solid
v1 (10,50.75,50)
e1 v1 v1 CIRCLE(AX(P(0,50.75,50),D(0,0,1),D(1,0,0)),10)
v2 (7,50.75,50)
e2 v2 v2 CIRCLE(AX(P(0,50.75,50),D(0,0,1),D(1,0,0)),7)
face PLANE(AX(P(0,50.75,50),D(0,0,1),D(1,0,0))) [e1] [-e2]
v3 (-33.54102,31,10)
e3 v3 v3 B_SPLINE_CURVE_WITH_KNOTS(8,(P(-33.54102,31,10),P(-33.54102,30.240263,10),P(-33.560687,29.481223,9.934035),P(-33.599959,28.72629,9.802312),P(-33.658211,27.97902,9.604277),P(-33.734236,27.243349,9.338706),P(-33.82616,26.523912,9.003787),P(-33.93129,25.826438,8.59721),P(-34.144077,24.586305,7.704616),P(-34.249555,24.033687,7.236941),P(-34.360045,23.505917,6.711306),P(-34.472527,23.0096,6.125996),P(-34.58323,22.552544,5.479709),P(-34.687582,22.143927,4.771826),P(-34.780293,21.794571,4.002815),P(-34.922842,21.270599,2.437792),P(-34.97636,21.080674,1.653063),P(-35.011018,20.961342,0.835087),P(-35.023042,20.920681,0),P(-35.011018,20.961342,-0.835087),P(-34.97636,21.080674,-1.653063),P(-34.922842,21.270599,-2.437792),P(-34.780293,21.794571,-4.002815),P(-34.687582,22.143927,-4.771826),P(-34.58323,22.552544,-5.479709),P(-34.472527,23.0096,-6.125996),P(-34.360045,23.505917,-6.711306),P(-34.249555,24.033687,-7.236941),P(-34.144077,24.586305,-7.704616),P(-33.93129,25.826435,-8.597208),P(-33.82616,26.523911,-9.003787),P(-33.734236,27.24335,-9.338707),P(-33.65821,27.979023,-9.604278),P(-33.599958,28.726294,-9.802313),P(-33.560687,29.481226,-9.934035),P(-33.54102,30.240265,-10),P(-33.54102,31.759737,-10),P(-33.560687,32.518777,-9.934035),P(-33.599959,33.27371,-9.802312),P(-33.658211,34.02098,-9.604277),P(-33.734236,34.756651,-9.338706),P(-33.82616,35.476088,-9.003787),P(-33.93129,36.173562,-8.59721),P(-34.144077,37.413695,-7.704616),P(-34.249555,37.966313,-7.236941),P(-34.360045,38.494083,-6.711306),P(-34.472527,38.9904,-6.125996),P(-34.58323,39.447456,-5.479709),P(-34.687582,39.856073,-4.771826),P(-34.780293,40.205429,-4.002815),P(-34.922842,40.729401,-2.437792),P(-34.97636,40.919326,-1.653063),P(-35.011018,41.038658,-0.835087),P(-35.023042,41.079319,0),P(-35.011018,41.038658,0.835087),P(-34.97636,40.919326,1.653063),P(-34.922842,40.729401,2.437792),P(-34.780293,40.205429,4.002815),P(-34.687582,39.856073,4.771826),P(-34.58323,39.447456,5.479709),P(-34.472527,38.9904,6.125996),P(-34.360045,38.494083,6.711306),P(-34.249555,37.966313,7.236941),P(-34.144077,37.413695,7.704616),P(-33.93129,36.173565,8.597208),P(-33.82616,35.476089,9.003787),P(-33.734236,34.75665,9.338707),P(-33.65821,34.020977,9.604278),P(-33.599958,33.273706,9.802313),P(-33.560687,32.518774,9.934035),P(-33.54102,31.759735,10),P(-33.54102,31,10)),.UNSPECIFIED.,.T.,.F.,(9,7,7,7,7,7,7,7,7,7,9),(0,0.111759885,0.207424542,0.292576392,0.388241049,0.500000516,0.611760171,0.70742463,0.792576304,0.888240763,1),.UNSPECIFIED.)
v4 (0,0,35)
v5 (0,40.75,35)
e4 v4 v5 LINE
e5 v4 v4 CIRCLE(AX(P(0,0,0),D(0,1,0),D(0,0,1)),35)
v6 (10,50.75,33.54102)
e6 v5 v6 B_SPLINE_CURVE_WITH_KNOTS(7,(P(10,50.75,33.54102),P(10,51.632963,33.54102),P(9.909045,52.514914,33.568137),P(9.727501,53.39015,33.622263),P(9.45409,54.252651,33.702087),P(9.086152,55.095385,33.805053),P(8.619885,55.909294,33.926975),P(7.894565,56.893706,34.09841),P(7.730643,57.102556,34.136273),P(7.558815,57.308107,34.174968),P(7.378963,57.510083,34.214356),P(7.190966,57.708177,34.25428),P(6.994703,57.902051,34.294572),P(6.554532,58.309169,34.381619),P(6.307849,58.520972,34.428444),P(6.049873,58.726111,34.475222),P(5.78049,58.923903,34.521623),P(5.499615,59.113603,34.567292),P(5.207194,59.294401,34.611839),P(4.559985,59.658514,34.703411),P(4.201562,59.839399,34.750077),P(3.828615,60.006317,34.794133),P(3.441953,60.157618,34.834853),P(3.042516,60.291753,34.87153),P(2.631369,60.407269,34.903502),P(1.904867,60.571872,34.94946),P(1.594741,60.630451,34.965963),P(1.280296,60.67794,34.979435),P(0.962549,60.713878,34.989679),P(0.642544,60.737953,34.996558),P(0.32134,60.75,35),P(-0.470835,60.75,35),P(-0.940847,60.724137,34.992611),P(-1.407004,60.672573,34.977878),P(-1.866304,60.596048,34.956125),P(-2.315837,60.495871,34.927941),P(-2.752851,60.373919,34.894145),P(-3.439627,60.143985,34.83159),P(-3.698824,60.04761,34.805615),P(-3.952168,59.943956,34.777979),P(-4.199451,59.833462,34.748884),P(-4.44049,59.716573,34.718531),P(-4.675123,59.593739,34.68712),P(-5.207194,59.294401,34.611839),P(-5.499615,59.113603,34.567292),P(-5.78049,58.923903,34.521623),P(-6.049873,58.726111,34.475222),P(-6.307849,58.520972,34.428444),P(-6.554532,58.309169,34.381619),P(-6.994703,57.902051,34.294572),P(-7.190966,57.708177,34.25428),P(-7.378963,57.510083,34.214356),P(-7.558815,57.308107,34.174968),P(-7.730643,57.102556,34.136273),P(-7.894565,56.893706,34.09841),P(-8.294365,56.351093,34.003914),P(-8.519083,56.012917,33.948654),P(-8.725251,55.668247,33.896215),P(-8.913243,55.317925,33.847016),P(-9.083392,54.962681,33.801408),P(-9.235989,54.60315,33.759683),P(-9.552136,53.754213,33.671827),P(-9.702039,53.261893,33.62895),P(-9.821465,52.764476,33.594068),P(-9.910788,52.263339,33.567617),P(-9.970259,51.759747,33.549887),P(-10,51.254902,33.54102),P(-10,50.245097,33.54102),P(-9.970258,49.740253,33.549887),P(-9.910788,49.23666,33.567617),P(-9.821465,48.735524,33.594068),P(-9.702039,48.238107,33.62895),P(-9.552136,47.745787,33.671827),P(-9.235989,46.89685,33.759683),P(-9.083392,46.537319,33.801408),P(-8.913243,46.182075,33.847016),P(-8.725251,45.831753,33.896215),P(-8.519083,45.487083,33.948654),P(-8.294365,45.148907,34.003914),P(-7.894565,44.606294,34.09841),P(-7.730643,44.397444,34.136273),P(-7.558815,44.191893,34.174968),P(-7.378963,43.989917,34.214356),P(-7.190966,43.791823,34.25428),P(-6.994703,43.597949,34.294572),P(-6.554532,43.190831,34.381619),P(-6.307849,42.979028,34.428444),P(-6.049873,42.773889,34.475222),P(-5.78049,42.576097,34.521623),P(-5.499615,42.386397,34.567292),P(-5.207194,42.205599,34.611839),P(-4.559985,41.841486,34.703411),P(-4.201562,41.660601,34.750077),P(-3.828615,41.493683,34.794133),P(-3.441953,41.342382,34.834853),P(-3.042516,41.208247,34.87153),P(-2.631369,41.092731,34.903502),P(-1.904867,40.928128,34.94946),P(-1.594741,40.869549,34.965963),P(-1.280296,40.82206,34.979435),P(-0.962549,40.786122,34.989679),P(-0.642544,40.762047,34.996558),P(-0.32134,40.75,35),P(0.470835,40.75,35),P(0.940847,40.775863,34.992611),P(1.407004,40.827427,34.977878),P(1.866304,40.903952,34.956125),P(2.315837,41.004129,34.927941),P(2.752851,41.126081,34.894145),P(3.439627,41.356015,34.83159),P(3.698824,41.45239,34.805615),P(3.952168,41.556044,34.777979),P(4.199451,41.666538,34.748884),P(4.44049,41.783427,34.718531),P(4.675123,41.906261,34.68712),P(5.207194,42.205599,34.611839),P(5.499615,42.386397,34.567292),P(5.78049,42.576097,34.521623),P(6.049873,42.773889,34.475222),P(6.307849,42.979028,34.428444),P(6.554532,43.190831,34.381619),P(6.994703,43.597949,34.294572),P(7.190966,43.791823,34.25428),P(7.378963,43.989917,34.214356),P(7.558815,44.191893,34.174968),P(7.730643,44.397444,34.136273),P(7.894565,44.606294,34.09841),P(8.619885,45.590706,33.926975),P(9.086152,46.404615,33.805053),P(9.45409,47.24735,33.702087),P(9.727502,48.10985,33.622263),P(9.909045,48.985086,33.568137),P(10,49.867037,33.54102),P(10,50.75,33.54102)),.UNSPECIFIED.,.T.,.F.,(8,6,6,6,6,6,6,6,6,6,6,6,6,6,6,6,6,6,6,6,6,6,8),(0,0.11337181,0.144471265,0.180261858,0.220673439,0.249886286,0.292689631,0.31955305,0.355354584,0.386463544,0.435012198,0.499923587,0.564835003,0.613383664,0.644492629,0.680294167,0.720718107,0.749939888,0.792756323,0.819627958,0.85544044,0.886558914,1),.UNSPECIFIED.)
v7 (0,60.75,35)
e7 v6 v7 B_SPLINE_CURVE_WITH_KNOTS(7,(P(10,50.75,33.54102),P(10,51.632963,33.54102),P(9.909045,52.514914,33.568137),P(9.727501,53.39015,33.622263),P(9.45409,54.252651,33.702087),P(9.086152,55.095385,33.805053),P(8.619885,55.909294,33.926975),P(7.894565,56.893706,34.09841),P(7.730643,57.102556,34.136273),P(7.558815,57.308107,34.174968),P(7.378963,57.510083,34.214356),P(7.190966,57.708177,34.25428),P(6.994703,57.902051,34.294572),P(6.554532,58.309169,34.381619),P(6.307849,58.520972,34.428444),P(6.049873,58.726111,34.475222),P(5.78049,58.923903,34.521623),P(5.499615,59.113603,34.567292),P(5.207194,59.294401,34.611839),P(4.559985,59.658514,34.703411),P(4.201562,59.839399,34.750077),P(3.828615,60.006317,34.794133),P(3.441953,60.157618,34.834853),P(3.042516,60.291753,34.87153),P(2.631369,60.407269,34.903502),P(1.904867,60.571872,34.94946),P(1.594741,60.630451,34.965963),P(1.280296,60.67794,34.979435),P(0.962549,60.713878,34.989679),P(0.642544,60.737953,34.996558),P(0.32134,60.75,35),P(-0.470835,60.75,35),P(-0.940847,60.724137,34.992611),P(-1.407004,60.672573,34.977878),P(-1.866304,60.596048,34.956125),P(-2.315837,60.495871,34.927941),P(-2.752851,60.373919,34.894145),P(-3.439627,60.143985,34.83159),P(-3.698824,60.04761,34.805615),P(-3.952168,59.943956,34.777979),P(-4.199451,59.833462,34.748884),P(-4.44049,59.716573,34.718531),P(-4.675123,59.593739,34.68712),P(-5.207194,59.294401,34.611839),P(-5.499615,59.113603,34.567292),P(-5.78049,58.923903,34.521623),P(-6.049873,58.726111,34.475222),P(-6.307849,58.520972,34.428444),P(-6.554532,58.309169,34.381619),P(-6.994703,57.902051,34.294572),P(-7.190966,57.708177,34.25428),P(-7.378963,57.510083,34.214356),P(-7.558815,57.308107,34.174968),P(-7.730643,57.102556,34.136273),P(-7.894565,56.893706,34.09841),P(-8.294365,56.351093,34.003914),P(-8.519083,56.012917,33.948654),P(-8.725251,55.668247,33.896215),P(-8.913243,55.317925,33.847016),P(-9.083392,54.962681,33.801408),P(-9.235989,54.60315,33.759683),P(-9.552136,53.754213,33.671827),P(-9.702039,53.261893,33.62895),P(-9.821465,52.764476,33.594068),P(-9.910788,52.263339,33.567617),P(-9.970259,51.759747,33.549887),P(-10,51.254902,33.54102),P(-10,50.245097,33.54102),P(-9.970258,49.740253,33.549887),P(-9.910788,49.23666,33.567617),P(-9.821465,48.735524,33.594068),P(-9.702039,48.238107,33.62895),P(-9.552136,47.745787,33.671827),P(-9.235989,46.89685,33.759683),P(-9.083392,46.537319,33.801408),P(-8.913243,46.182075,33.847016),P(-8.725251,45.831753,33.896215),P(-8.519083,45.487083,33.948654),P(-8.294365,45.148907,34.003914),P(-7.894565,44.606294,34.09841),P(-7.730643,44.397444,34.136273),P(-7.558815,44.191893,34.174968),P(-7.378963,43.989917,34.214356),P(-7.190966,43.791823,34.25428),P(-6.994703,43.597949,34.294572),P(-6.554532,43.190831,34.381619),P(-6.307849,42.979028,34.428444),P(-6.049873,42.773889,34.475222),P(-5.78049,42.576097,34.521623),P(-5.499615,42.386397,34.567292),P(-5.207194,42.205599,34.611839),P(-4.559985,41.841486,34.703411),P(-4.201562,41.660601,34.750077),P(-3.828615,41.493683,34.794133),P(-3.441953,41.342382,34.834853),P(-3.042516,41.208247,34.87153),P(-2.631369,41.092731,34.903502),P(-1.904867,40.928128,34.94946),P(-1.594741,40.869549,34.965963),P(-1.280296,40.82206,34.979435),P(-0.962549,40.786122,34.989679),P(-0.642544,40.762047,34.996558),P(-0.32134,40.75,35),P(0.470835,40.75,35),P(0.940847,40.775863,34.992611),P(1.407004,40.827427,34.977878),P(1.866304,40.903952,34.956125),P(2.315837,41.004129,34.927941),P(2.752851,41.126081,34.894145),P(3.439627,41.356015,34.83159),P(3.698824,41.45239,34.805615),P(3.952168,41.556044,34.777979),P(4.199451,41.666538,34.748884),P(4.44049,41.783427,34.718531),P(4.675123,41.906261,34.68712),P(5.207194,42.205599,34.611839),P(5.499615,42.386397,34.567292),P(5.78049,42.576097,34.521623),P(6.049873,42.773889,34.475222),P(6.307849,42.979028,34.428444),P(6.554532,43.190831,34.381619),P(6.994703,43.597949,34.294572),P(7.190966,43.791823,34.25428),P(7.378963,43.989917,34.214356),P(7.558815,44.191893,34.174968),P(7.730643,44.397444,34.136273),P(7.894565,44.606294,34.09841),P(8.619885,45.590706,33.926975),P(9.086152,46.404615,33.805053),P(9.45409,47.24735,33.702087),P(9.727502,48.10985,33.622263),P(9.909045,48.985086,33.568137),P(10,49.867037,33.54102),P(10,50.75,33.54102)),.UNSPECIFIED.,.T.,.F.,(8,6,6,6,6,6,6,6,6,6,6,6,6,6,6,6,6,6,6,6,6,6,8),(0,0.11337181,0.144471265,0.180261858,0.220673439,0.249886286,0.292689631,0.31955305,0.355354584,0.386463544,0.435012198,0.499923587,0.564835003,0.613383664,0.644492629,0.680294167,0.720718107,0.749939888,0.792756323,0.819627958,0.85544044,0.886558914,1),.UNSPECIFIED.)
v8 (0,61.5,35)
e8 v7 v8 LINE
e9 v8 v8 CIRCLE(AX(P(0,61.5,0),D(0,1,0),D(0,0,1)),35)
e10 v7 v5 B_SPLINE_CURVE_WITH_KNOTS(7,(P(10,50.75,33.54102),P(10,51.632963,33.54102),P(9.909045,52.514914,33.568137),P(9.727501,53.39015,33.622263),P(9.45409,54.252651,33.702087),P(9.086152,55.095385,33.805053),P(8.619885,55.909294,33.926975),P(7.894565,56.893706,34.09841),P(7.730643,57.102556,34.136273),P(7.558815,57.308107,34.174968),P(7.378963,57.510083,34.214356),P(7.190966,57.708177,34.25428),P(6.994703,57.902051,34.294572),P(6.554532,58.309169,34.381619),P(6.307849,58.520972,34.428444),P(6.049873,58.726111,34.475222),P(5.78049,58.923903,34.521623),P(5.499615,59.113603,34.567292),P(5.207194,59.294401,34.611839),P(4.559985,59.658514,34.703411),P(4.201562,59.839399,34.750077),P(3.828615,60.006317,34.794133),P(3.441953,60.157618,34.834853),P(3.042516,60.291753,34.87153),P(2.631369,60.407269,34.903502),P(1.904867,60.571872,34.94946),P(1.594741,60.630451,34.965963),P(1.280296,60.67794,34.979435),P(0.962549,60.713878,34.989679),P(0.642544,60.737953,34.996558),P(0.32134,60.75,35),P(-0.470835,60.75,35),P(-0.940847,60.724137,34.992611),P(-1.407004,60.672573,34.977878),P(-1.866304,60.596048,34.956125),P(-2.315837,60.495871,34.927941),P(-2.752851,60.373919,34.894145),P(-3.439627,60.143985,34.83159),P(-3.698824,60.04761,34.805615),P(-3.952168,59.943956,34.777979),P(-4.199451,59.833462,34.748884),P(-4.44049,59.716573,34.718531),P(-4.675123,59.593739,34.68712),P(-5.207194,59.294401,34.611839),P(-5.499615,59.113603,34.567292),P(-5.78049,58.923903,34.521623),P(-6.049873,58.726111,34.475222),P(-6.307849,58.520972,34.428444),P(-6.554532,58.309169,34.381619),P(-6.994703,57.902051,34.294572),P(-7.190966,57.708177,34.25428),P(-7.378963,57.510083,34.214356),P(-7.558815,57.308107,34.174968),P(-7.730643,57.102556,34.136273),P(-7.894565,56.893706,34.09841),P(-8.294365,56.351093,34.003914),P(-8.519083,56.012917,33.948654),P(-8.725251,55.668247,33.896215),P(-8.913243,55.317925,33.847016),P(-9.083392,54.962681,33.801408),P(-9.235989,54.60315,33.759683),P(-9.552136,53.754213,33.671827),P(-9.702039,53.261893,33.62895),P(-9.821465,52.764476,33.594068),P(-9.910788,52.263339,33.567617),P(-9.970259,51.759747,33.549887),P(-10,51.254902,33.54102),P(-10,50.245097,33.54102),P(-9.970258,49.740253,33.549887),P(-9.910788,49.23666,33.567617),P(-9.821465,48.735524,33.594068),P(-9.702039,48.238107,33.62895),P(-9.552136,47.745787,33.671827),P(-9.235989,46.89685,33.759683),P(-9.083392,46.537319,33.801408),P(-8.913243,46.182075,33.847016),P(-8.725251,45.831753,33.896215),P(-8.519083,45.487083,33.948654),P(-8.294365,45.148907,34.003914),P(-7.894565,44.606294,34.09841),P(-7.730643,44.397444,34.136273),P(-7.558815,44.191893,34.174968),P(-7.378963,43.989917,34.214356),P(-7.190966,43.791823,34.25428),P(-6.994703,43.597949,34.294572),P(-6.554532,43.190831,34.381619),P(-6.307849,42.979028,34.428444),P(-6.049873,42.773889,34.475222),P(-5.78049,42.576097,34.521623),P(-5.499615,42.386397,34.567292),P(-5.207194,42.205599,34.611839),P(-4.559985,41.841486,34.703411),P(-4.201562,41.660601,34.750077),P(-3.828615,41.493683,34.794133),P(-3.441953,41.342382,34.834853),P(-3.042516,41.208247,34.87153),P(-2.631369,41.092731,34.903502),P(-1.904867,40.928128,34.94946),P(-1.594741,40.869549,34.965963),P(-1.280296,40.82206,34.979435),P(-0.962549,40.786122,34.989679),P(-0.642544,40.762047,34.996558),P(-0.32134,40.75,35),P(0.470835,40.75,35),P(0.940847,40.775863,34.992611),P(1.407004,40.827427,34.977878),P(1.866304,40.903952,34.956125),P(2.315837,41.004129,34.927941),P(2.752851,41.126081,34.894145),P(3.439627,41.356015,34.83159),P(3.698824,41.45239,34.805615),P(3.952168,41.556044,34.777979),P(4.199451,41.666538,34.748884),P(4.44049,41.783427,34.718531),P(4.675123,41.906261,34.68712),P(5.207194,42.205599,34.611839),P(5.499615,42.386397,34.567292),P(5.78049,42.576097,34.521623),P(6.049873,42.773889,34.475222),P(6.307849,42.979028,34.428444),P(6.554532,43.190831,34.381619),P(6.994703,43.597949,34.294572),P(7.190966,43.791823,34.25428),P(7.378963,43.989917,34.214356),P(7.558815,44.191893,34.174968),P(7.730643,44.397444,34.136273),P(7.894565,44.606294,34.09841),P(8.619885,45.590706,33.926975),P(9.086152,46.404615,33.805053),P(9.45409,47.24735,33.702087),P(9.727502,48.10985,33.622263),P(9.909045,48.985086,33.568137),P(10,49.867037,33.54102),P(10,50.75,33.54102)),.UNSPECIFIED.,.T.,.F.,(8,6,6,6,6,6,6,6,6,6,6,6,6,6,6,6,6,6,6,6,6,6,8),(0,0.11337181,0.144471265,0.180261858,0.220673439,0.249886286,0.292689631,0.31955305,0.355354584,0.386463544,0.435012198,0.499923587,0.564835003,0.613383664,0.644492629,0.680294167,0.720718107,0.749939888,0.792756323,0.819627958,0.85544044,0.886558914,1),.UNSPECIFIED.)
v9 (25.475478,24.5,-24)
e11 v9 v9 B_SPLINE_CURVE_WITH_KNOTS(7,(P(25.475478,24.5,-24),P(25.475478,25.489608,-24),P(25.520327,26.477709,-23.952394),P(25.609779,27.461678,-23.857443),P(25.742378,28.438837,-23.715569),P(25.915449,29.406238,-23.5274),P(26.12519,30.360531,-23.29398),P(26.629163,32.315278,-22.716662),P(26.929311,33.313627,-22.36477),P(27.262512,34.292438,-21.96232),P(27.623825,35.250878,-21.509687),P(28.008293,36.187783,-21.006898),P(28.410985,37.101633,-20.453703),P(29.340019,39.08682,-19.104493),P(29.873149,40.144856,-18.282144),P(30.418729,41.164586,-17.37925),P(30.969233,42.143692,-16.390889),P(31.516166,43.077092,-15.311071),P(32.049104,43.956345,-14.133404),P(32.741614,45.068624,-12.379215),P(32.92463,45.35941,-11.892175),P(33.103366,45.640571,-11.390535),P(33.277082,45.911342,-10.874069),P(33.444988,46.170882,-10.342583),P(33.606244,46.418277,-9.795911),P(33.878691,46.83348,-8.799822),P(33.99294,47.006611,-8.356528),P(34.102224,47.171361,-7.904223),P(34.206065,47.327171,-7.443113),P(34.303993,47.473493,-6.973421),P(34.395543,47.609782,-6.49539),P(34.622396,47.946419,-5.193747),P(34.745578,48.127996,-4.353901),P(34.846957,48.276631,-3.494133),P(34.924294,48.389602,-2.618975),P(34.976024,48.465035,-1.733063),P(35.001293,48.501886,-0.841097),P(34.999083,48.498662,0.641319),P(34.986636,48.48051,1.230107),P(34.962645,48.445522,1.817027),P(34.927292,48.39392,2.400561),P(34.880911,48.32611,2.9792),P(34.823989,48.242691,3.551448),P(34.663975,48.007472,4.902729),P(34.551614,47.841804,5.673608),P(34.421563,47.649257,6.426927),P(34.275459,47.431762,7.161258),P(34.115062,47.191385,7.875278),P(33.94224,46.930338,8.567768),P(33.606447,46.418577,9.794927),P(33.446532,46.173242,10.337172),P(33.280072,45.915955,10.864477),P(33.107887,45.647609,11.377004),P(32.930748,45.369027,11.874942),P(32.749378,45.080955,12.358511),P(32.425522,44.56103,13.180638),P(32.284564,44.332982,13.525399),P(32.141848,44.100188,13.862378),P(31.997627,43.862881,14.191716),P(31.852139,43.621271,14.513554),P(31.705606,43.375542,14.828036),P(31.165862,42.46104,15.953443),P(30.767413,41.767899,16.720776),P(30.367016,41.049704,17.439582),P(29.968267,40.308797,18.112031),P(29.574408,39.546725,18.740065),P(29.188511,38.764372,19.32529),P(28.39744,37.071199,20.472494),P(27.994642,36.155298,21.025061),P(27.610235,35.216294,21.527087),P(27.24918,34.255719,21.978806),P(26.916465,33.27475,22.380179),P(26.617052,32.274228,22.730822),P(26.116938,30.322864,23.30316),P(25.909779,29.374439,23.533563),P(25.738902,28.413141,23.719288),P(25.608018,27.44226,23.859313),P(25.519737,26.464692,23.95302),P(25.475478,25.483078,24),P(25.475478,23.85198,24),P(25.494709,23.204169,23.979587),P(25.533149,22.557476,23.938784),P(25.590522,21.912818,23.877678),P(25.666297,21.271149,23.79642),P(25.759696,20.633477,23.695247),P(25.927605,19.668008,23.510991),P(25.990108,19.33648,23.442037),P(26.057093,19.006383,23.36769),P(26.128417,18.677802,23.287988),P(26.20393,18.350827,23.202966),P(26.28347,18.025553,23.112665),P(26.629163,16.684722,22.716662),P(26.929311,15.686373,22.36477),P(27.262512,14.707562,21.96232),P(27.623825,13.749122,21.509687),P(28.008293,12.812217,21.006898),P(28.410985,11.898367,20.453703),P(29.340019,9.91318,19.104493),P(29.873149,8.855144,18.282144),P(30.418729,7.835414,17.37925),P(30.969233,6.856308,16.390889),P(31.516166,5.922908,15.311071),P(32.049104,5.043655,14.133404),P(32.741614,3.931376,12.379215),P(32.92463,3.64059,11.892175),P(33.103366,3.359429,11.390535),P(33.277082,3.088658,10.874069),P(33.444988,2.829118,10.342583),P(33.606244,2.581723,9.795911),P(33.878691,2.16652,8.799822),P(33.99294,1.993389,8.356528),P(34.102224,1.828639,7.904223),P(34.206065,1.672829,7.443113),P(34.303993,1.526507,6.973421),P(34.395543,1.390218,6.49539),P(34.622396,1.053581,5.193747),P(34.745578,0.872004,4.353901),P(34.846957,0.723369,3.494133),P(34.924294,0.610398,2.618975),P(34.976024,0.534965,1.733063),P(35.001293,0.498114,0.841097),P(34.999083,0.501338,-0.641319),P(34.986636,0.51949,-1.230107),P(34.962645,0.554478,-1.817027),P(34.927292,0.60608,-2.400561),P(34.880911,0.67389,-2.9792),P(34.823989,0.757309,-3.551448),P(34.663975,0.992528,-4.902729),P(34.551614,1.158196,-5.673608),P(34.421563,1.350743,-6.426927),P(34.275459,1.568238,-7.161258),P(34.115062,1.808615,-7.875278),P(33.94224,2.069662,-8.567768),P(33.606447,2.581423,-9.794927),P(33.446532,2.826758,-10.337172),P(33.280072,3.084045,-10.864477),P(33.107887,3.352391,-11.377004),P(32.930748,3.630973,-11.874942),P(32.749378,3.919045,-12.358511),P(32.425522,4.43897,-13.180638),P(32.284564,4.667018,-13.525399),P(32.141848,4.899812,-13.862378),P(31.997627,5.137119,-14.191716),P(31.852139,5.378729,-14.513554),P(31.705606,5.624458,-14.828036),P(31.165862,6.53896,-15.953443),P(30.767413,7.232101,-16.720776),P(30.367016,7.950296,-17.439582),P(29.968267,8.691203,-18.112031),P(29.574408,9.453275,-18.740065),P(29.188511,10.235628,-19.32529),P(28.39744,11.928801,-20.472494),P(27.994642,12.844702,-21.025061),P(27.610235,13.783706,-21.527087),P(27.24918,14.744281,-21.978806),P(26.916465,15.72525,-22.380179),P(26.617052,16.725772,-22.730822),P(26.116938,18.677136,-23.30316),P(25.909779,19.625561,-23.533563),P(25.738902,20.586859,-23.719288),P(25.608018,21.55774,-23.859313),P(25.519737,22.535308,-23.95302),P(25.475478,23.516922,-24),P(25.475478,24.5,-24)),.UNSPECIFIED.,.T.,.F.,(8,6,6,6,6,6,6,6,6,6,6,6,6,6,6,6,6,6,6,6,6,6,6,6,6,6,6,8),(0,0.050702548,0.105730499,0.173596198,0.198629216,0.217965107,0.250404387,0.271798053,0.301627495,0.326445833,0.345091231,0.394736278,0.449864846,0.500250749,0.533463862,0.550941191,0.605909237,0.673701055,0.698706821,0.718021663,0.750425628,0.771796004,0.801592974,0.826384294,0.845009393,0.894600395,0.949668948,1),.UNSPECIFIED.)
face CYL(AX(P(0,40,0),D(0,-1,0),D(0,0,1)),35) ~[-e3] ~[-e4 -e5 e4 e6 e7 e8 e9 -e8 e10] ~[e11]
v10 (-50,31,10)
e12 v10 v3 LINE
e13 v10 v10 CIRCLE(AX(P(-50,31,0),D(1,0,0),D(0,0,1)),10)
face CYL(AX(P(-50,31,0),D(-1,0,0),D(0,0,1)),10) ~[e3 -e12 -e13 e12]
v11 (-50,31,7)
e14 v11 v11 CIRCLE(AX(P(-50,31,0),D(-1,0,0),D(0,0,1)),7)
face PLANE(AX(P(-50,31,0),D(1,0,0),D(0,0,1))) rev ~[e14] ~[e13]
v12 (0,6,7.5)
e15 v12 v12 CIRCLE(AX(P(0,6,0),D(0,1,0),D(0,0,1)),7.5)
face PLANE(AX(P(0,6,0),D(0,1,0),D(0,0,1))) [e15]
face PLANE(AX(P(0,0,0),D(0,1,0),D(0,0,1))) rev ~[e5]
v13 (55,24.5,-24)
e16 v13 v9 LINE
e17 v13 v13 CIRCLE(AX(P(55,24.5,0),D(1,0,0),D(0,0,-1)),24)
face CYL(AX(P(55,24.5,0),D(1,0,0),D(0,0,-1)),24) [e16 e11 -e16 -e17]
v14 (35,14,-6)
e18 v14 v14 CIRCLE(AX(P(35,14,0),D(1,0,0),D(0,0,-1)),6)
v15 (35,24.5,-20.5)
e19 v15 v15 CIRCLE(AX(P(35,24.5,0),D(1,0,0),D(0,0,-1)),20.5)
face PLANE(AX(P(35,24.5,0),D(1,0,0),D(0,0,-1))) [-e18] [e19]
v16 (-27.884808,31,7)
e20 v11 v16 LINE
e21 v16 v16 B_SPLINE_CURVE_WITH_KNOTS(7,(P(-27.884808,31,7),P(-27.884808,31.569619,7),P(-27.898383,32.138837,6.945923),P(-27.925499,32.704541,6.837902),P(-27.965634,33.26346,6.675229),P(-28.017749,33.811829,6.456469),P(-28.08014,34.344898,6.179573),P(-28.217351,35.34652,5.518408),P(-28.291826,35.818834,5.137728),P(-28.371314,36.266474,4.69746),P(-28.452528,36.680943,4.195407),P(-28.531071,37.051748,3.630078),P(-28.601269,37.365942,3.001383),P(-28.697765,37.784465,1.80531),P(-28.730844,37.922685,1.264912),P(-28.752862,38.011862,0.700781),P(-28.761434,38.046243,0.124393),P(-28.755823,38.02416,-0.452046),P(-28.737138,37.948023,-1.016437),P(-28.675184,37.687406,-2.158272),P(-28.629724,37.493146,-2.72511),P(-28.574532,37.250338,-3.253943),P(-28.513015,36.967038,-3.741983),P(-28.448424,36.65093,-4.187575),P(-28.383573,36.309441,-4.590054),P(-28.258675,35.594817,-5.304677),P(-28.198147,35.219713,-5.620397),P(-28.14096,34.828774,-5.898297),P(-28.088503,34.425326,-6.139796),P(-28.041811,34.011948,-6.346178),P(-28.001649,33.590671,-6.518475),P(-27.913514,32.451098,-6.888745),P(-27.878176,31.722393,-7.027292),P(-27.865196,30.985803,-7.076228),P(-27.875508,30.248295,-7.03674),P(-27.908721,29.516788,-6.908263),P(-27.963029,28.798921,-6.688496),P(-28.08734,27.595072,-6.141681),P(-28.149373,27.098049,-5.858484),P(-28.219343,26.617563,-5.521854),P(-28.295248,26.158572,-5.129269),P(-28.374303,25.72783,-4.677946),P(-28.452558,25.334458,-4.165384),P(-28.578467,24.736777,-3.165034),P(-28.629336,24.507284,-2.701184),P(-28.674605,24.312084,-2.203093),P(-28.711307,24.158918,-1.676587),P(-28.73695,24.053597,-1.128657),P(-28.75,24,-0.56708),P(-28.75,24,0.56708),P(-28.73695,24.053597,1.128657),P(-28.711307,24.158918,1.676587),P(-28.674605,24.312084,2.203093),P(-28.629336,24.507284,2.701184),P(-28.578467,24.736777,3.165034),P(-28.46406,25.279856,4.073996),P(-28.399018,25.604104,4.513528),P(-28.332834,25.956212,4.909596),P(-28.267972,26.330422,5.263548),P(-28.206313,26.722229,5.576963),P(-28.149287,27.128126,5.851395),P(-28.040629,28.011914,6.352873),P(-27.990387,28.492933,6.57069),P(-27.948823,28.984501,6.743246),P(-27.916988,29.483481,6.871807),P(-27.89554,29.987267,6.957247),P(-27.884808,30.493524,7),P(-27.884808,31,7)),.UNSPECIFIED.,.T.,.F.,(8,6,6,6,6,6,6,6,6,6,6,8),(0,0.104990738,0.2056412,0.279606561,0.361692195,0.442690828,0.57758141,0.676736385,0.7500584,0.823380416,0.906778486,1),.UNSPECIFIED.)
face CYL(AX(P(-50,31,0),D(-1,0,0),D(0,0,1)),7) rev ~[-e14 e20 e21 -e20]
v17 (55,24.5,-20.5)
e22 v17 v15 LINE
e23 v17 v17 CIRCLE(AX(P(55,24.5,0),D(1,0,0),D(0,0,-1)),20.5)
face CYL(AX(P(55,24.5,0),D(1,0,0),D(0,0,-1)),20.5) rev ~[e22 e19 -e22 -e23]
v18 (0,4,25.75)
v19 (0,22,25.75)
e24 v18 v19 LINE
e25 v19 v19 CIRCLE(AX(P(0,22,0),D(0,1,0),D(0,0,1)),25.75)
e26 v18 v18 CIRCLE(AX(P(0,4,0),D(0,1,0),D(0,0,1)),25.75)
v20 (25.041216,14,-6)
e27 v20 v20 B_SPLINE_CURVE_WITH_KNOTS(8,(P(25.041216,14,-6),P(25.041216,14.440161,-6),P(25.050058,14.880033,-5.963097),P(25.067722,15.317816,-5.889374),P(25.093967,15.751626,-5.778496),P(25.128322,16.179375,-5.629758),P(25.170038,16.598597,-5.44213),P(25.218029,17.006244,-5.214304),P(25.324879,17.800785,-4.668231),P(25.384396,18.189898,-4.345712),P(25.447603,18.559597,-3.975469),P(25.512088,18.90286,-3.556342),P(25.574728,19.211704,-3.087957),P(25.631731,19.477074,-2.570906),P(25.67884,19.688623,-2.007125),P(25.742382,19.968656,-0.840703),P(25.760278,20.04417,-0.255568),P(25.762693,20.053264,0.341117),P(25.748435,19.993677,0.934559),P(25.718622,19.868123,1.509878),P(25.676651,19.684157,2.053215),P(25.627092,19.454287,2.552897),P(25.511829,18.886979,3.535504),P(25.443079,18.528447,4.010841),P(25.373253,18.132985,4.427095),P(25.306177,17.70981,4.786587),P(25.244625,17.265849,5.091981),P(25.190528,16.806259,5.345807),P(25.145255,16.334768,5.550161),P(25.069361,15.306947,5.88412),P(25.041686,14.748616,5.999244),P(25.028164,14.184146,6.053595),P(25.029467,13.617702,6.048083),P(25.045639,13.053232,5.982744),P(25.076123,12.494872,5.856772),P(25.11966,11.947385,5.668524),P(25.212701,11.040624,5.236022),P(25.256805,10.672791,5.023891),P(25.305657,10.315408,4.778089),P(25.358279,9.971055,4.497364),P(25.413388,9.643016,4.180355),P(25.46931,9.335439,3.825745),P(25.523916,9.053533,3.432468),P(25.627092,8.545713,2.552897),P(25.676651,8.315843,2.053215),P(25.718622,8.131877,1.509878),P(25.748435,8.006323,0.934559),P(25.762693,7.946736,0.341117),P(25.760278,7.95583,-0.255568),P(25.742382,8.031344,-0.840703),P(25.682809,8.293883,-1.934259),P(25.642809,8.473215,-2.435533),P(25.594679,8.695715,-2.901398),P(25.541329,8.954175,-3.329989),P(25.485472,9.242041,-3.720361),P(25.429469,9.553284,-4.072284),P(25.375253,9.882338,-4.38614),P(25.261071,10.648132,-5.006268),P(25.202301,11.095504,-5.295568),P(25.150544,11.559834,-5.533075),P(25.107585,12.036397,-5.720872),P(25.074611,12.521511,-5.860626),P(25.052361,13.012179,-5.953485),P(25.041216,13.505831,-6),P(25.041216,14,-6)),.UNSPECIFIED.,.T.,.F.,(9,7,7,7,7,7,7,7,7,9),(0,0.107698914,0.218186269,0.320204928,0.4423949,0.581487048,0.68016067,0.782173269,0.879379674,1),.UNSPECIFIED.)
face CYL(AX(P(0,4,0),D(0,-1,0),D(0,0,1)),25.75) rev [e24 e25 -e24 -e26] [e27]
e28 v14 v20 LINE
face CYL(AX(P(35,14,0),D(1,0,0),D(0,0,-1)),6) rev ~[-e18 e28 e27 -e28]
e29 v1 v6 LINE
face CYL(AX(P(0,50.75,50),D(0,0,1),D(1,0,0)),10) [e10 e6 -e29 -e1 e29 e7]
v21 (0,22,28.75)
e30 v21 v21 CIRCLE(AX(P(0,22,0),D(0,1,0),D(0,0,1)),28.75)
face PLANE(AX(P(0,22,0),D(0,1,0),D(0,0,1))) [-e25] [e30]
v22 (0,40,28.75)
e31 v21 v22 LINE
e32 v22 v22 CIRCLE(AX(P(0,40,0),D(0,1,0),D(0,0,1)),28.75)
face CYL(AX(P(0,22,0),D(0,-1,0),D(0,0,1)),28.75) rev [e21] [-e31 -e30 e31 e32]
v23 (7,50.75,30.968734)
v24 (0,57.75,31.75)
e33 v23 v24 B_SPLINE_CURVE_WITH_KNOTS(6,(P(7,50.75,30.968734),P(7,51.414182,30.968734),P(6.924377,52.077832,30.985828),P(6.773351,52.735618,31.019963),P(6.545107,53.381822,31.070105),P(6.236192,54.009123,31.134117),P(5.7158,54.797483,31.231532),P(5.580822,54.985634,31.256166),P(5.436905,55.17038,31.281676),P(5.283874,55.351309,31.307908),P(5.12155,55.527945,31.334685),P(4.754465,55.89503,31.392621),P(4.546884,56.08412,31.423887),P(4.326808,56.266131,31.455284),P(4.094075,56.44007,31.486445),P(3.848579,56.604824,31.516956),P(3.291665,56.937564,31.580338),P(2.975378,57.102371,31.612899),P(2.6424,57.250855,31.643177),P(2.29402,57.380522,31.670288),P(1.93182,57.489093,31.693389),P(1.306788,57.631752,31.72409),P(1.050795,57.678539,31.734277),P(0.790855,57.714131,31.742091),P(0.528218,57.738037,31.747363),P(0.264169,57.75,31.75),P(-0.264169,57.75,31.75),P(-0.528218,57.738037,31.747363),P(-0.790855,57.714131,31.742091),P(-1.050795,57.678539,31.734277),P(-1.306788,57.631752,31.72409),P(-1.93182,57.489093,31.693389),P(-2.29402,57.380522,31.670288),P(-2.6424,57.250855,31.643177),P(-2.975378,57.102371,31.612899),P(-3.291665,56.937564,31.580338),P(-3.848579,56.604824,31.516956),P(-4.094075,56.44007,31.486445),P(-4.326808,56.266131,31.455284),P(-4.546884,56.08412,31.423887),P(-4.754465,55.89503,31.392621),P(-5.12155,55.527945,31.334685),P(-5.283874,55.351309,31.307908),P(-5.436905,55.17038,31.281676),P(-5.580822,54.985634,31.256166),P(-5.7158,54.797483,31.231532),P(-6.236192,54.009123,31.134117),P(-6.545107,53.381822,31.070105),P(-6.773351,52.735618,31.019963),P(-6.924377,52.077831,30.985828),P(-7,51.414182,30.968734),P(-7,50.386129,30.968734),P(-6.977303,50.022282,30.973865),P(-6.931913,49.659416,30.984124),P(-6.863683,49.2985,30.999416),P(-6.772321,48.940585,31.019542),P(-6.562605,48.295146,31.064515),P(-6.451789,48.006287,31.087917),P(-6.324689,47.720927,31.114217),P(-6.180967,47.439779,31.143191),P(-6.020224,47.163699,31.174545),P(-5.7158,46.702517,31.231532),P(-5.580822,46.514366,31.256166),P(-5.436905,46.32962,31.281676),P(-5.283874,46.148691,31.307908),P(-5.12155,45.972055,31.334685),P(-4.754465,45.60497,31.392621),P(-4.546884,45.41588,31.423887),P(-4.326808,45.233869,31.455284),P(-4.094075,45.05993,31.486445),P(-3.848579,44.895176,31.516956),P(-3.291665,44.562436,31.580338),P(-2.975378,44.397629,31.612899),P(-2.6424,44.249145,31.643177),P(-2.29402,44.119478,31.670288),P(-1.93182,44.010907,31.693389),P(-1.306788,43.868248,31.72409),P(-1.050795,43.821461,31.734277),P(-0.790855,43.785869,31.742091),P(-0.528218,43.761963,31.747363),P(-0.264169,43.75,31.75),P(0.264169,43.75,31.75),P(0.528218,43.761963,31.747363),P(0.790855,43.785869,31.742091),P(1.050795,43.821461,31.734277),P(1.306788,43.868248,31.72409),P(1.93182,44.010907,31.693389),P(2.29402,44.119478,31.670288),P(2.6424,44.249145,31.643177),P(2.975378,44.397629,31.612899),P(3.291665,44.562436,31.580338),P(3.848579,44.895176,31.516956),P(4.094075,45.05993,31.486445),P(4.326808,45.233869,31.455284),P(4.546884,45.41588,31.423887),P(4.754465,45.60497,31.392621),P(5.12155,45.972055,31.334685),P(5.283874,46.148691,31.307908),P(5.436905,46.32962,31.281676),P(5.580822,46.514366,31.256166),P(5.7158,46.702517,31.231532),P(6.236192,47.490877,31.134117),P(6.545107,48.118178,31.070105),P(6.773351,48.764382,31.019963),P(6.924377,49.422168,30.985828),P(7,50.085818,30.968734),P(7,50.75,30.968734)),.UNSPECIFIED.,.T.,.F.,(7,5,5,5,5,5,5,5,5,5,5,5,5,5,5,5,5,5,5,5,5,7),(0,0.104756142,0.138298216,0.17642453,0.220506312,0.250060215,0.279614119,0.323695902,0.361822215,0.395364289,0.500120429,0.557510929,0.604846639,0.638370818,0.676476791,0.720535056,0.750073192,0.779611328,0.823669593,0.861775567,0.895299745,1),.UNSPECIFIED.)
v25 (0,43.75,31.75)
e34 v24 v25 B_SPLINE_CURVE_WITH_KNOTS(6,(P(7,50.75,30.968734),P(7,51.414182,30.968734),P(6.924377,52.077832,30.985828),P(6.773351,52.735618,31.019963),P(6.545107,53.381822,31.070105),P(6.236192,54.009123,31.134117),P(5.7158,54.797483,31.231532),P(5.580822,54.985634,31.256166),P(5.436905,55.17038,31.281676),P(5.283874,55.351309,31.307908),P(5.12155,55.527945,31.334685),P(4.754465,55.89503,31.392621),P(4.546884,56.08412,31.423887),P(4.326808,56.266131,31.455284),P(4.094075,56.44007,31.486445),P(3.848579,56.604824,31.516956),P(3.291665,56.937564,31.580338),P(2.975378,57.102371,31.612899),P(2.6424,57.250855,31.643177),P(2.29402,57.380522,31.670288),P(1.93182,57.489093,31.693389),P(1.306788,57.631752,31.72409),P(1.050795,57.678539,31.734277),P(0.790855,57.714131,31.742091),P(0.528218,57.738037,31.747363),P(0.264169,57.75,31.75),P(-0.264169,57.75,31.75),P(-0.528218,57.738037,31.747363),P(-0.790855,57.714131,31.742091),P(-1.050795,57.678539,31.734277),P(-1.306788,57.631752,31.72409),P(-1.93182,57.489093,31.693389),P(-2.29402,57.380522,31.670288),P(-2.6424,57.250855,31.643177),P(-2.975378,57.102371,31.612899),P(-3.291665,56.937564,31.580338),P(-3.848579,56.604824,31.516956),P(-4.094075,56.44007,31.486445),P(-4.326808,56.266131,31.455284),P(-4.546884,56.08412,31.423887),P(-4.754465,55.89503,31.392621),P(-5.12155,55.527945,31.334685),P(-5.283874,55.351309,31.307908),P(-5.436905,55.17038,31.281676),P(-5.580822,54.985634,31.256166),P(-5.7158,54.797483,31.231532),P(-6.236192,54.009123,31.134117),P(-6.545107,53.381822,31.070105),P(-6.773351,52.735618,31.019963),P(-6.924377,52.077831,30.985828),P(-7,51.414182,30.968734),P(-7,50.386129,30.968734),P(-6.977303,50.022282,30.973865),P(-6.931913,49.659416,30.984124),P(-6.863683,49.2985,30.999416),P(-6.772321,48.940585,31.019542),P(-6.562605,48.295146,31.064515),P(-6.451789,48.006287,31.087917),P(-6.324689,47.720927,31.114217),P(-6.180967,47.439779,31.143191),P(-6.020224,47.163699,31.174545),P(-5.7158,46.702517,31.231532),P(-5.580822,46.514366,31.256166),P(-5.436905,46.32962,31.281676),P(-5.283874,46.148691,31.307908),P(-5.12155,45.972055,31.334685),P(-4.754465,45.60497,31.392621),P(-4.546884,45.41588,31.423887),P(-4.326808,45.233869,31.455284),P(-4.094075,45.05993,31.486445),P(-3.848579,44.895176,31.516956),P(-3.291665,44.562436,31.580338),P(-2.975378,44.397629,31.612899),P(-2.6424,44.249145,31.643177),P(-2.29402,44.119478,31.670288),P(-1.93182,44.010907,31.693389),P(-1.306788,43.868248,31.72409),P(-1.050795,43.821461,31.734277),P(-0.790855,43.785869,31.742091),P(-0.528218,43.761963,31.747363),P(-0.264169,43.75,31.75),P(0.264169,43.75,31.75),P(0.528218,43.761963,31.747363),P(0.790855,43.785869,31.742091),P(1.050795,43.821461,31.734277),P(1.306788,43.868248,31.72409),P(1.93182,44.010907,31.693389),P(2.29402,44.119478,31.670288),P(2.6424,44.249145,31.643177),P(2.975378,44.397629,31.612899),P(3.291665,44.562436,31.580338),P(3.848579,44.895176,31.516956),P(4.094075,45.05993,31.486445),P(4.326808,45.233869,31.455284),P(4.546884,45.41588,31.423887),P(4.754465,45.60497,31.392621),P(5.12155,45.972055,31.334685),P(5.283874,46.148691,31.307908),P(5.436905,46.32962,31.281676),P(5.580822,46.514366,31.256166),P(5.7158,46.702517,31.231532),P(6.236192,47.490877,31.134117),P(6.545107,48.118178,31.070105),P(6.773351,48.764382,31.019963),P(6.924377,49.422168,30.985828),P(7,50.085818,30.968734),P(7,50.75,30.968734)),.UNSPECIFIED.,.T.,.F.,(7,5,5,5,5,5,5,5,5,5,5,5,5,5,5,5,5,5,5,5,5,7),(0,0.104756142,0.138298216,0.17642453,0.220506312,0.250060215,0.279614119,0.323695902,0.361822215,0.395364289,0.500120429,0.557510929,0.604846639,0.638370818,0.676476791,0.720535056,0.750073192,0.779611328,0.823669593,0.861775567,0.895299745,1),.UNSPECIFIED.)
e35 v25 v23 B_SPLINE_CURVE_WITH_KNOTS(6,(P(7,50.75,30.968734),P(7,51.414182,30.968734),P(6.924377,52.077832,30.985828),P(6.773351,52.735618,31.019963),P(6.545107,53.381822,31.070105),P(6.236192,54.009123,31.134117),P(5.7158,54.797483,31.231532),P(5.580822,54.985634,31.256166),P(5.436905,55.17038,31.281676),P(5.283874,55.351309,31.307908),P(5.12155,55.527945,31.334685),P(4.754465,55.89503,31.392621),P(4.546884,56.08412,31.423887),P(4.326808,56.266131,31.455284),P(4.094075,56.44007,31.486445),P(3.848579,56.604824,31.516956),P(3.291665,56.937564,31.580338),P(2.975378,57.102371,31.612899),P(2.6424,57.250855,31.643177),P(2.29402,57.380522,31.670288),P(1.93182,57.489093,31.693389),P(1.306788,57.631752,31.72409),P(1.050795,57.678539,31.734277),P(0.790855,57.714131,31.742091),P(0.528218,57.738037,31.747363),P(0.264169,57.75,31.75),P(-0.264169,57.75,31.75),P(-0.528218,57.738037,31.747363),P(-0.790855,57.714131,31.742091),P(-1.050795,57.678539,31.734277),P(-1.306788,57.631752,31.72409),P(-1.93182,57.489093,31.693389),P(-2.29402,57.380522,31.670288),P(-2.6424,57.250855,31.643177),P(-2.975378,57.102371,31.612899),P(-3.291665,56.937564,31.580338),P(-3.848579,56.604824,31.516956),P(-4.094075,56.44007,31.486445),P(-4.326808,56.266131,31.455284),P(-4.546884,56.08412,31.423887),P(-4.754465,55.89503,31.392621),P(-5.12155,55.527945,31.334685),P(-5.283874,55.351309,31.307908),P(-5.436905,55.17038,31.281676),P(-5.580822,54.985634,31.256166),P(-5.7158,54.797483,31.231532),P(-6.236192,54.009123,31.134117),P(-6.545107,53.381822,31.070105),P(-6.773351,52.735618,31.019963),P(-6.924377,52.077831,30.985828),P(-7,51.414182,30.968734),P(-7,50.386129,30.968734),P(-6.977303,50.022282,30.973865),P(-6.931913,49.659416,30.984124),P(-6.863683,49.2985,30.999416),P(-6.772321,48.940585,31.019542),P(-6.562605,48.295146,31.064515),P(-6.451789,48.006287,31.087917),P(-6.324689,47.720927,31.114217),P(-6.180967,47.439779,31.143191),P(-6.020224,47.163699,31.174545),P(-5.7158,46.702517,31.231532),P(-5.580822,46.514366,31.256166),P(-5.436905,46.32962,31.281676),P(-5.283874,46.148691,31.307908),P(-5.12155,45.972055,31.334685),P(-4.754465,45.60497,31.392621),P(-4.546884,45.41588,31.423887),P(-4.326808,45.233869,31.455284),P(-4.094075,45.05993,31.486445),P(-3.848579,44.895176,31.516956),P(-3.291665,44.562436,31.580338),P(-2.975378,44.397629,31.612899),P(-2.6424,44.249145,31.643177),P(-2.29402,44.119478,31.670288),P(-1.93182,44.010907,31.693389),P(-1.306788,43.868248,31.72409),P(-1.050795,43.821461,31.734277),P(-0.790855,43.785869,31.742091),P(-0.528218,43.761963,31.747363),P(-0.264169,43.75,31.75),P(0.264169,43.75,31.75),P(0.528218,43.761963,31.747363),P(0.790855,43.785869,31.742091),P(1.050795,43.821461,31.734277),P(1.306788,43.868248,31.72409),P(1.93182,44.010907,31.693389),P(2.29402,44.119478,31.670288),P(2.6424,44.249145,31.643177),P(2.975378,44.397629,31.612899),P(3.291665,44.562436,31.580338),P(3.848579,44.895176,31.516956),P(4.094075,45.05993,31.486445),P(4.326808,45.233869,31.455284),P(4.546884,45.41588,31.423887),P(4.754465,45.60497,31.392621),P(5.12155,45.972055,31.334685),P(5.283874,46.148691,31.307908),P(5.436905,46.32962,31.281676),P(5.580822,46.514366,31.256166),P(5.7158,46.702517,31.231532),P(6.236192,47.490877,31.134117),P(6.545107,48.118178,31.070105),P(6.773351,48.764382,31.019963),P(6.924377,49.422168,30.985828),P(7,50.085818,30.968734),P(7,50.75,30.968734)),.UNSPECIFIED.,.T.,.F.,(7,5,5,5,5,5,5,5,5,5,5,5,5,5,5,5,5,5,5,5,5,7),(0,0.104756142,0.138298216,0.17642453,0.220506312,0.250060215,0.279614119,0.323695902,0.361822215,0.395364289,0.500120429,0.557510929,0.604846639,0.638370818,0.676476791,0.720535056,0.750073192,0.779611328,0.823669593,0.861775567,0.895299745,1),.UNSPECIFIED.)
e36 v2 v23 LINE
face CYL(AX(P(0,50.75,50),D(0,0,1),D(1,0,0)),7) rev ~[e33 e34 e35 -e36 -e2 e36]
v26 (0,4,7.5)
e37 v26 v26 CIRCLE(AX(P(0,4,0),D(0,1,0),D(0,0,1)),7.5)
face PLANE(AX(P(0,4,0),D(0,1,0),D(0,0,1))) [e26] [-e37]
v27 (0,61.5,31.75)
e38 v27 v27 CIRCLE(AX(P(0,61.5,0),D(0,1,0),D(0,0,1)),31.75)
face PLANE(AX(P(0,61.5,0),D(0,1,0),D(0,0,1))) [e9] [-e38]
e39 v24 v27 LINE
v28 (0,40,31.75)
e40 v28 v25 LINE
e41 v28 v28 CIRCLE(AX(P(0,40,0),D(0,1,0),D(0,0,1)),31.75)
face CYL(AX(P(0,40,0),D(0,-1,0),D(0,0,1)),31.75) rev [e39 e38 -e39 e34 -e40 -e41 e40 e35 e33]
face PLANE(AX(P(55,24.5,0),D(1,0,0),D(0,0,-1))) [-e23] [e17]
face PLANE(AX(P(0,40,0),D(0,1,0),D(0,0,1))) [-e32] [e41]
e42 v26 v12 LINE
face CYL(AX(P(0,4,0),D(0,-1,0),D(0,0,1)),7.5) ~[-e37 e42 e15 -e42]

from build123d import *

# Parameters (mm, degrees)
SKETCH1_R                  = 35
BASE_DEPTH                 = 4
SKETCH2_R                  = 7.5
CENTERING_BOSS_DEPTH       = 2
SKETCH3_R                  = 35
SKETCH3_R_2                = 25.75
INLET_TIER_DEPTH           = 18
SKETCH4_R                  = 35
SKETCH4_R_2                = 28.75
PATIENT_TIER_DEPTH         = 18
SKETCH5_R                  = 35
SKETCH5_R_2                = 31.75
OUTLET_TIER_DEPTH          = 21.5
INLET_REACH                = 116.487
INLET_END_RADIUS           = 35
SKETCH7_R                  = 24
SKETCH10_R                 = 20.5
INLET_ID_DEPTH             = 20
INLET_PASS_THRU_REACH      = 101.535
INLET_PASS_THRU_END_RADIUS = 25.75
SKETCH11_R                 = 6
BOSS_EXTRUDE8_REACH        = 128.619
BOSS_EXTRUDE8_END_RADIUS   = 35
SKETCH12_R                 = 10
CUT_EXTRUDE3_REACH         = 128.619
CUT_EXTRUDE3_END_RADIUS    = 28.75
SKETCH13_R                 = 7
BOSS_EXTRUDE9_REACH        = 120.458
BOSS_EXTRUDE9_END_RADIUS   = 35
SKETCH14_R                 = 10
CUT_EXTRUDE4_REACH         = 120.458
CUT_EXTRUDE4_END_RADIUS    = 31.75
SKETCH15_R                 = 7


with BuildPart() as part:
    # Sketch1 → Base (new body)
    with BuildSketch(Plane(origin=(0, 0, 0), x_dir=(1, 0, 0), z_dir=(0, 1, 0))):
        with Locations(Location((0, 0, 0), (0, 0, 270))):
            Circle(SKETCH1_R)
    extrude(amount=BASE_DEPTH)

    # Sketch2 → Centering boss (add)
    with BuildSketch(Plane(origin=(0, 4, 0), x_dir=(1, 0, 0), z_dir=(0, 1, 0))):
        with Locations(Location((0, 0, 0), (0, 0, 270))):
            Circle(SKETCH2_R)
    extrude(amount=CENTERING_BOSS_DEPTH)

    # Sketch3 → Inlet tier (add)
    with BuildSketch(Plane(origin=(0, 4, 0), x_dir=(1, 0, 0), z_dir=(0, 1, 0))):
        with Locations(Location((0, 0, 0), (0, 0, 270))):
            Circle(SKETCH3_R)
        with Locations(Location((0, 0, 0), (0, 0, 270))):
            Circle(SKETCH3_R_2, mode=Mode.SUBTRACT)
    extrude(amount=INLET_TIER_DEPTH)

    # Sketch4 → Patient tier (add)
    with BuildSketch(Plane(origin=(0, 22, 0), x_dir=(1, 0, 0), z_dir=(0, 1, 0))):
        with Locations(Location((0, 0, 0), (0, 0, 270))):
            Circle(SKETCH4_R)
        with Locations(Location((0, 0, 0), (0, 0, 270))):
            Circle(SKETCH4_R_2, mode=Mode.SUBTRACT)
    extrude(amount=PATIENT_TIER_DEPTH)

    # Sketch5 → Outlet tier (add)
    with BuildSketch(Plane(origin=(0, 40, 0), x_dir=(1, 0, 0), z_dir=(0, 1, 0))):
        with Locations(Location((0, 0, 0), (0, 0, 270))):
            Circle(SKETCH5_R)
        with Locations(Location((0, 0, 0), (0, 0, 270))):
            Circle(SKETCH5_R_2, mode=Mode.SUBTRACT)
    extrude(amount=OUTLET_TIER_DEPTH)

    # Inlet: up to this cylinder (the profile starts outside it)
    inlet_end = Plane(origin=(0, 24.5, 0), z_dir=(0, -1, 0)) * Cylinder(INLET_END_RADIUS, 303.974, mode=Mode.PRIVATE)
    # Sketch7 → Inlet (add, up to the surface)
    with BuildSketch(Plane(origin=(55, 0, 0), x_dir=(0, 0, -1), z_dir=(1, 0, 0)), mode=Mode.PRIVATE) as inlet_sk1:
        with Locations((0, 24.5)):
            Circle(SKETCH7_R)
    inlet_tool1 = extrude(inlet_sk1.sketch, amount=-INLET_REACH, mode=Mode.PRIVATE) - inlet_end
    add(inlet_tool1.solids().sort_by_distance((55, 24.5, 0))[0])

    # Sketch10 → Inlet ID (cut)
    with BuildSketch(Plane(origin=(55, 0, 0), x_dir=(0, 0, -1), z_dir=(1, 0, 0))):
        with Locations((0, 24.5)):
            Circle(SKETCH10_R)
    extrude(amount=-INLET_ID_DEPTH, mode=Mode.SUBTRACT)

    # Inlet pass thru: up to this cylinder (the profile starts outside it)
    inlet_pass_thru_end = Plane(origin=(0, 14, 0), z_dir=(0, -1, 0)) * Cylinder(INLET_PASS_THRU_END_RADIUS, 255.57, mode=Mode.PRIVATE)
    # Sketch11 → Inlet pass thru (cut, up to the surface)
    with BuildSketch(Plane(origin=(35, 0, 0), x_dir=(0, 0, -1), z_dir=(1, 0, 0)), mode=Mode.PRIVATE) as inlet_pass_thru_sk1:
        with Locations((0, 14)):
            Circle(SKETCH11_R)
    inlet_pass_thru_tool1 = extrude(inlet_pass_thru_sk1.sketch, amount=-INLET_PASS_THRU_REACH, mode=Mode.PRIVATE) - inlet_pass_thru_end
    add(inlet_pass_thru_tool1.solids().sort_by_distance((35, 14, 0))[0], mode=Mode.SUBTRACT)

    # Boss-Extrude8: up to this cylinder (the profile starts outside it)
    boss_extrude8_end = Plane(origin=(0, 31, 0), z_dir=(0, -1, 0)) * Cylinder(BOSS_EXTRUDE8_END_RADIUS, 328.238, mode=Mode.PRIVATE)
    # Sketch12 → Boss-Extrude8 (add, up to the surface)
    with BuildSketch(Plane(origin=(-50, 0, 0), x_dir=(0, 0, -1), z_dir=(1, 0, 0)), mode=Mode.PRIVATE) as boss_extrude8_sk1:
        with Locations(Location((0, 31, 0), (0, 0, 180))):
            Circle(SKETCH12_R)
    boss_extrude8_tool1 = extrude(boss_extrude8_sk1.sketch, amount=BOSS_EXTRUDE8_REACH, mode=Mode.PRIVATE) - boss_extrude8_end
    add(boss_extrude8_tool1.solids().sort_by_distance((-50, 31, 0))[0])

    # Cut-Extrude3: up to this cylinder (the profile starts outside it)
    cut_extrude3_end = Plane(origin=(0, 31, 0), z_dir=(0, -1, 0)) * Cylinder(CUT_EXTRUDE3_END_RADIUS, 315.738, mode=Mode.PRIVATE)
    # Sketch13 → Cut-Extrude3 (cut, up to the surface)
    with BuildSketch(Plane.ZY.offset(50), mode=Mode.PRIVATE) as cut_extrude3_sk1:
        with Locations((0, 31)):
            Circle(SKETCH13_R)
    cut_extrude3_tool1 = extrude(cut_extrude3_sk1.sketch, amount=-CUT_EXTRUDE3_REACH, mode=Mode.PRIVATE) - cut_extrude3_end
    add(cut_extrude3_tool1.solids().sort_by_distance((-50, 31, 0))[0], mode=Mode.SUBTRACT)

    # Boss-Extrude9: up to this cylinder (the profile starts outside it)
    boss_extrude9_end = Plane(origin=(0, 50.75, 0), z_dir=(0, -1, 0)) * Cylinder(BOSS_EXTRUDE9_END_RADIUS, 311.916, mode=Mode.PRIVATE)
    # Sketch14 → Boss-Extrude9 (add, up to the surface)
    with BuildSketch(Plane.XY.offset(50), mode=Mode.PRIVATE) as boss_extrude9_sk1:
        with Locations((0, 50.75)):
            Circle(SKETCH14_R)
    boss_extrude9_tool1 = extrude(boss_extrude9_sk1.sketch, amount=-BOSS_EXTRUDE9_REACH, mode=Mode.PRIVATE) - boss_extrude9_end
    add(boss_extrude9_tool1.solids().sort_by_distance((0, 50.75, 50))[0])

    # Cut-Extrude4: up to this cylinder (the profile starts outside it)
    cut_extrude4_end = Plane(origin=(0, 50.75, 0), z_dir=(0, -1, 0)) * Cylinder(CUT_EXTRUDE4_END_RADIUS, 305.416, mode=Mode.PRIVATE)
    # Sketch15 → Cut-Extrude4 (cut, up to the surface)
    with BuildSketch(Plane.XY.offset(50), mode=Mode.PRIVATE) as cut_extrude4_sk1:
        with Locations((0, 50.75)):
            Circle(SKETCH15_R)
    cut_extrude4_tool1 = extrude(cut_extrude4_sk1.sketch, amount=-CUT_EXTRUDE4_REACH, mode=Mode.PRIVATE) - cut_extrude4_end
    add(cut_extrude4_tool1.solids().sort_by_distance((0, 50.75, 50))[0], mode=Mode.SUBTRACT)


solid = part.part
